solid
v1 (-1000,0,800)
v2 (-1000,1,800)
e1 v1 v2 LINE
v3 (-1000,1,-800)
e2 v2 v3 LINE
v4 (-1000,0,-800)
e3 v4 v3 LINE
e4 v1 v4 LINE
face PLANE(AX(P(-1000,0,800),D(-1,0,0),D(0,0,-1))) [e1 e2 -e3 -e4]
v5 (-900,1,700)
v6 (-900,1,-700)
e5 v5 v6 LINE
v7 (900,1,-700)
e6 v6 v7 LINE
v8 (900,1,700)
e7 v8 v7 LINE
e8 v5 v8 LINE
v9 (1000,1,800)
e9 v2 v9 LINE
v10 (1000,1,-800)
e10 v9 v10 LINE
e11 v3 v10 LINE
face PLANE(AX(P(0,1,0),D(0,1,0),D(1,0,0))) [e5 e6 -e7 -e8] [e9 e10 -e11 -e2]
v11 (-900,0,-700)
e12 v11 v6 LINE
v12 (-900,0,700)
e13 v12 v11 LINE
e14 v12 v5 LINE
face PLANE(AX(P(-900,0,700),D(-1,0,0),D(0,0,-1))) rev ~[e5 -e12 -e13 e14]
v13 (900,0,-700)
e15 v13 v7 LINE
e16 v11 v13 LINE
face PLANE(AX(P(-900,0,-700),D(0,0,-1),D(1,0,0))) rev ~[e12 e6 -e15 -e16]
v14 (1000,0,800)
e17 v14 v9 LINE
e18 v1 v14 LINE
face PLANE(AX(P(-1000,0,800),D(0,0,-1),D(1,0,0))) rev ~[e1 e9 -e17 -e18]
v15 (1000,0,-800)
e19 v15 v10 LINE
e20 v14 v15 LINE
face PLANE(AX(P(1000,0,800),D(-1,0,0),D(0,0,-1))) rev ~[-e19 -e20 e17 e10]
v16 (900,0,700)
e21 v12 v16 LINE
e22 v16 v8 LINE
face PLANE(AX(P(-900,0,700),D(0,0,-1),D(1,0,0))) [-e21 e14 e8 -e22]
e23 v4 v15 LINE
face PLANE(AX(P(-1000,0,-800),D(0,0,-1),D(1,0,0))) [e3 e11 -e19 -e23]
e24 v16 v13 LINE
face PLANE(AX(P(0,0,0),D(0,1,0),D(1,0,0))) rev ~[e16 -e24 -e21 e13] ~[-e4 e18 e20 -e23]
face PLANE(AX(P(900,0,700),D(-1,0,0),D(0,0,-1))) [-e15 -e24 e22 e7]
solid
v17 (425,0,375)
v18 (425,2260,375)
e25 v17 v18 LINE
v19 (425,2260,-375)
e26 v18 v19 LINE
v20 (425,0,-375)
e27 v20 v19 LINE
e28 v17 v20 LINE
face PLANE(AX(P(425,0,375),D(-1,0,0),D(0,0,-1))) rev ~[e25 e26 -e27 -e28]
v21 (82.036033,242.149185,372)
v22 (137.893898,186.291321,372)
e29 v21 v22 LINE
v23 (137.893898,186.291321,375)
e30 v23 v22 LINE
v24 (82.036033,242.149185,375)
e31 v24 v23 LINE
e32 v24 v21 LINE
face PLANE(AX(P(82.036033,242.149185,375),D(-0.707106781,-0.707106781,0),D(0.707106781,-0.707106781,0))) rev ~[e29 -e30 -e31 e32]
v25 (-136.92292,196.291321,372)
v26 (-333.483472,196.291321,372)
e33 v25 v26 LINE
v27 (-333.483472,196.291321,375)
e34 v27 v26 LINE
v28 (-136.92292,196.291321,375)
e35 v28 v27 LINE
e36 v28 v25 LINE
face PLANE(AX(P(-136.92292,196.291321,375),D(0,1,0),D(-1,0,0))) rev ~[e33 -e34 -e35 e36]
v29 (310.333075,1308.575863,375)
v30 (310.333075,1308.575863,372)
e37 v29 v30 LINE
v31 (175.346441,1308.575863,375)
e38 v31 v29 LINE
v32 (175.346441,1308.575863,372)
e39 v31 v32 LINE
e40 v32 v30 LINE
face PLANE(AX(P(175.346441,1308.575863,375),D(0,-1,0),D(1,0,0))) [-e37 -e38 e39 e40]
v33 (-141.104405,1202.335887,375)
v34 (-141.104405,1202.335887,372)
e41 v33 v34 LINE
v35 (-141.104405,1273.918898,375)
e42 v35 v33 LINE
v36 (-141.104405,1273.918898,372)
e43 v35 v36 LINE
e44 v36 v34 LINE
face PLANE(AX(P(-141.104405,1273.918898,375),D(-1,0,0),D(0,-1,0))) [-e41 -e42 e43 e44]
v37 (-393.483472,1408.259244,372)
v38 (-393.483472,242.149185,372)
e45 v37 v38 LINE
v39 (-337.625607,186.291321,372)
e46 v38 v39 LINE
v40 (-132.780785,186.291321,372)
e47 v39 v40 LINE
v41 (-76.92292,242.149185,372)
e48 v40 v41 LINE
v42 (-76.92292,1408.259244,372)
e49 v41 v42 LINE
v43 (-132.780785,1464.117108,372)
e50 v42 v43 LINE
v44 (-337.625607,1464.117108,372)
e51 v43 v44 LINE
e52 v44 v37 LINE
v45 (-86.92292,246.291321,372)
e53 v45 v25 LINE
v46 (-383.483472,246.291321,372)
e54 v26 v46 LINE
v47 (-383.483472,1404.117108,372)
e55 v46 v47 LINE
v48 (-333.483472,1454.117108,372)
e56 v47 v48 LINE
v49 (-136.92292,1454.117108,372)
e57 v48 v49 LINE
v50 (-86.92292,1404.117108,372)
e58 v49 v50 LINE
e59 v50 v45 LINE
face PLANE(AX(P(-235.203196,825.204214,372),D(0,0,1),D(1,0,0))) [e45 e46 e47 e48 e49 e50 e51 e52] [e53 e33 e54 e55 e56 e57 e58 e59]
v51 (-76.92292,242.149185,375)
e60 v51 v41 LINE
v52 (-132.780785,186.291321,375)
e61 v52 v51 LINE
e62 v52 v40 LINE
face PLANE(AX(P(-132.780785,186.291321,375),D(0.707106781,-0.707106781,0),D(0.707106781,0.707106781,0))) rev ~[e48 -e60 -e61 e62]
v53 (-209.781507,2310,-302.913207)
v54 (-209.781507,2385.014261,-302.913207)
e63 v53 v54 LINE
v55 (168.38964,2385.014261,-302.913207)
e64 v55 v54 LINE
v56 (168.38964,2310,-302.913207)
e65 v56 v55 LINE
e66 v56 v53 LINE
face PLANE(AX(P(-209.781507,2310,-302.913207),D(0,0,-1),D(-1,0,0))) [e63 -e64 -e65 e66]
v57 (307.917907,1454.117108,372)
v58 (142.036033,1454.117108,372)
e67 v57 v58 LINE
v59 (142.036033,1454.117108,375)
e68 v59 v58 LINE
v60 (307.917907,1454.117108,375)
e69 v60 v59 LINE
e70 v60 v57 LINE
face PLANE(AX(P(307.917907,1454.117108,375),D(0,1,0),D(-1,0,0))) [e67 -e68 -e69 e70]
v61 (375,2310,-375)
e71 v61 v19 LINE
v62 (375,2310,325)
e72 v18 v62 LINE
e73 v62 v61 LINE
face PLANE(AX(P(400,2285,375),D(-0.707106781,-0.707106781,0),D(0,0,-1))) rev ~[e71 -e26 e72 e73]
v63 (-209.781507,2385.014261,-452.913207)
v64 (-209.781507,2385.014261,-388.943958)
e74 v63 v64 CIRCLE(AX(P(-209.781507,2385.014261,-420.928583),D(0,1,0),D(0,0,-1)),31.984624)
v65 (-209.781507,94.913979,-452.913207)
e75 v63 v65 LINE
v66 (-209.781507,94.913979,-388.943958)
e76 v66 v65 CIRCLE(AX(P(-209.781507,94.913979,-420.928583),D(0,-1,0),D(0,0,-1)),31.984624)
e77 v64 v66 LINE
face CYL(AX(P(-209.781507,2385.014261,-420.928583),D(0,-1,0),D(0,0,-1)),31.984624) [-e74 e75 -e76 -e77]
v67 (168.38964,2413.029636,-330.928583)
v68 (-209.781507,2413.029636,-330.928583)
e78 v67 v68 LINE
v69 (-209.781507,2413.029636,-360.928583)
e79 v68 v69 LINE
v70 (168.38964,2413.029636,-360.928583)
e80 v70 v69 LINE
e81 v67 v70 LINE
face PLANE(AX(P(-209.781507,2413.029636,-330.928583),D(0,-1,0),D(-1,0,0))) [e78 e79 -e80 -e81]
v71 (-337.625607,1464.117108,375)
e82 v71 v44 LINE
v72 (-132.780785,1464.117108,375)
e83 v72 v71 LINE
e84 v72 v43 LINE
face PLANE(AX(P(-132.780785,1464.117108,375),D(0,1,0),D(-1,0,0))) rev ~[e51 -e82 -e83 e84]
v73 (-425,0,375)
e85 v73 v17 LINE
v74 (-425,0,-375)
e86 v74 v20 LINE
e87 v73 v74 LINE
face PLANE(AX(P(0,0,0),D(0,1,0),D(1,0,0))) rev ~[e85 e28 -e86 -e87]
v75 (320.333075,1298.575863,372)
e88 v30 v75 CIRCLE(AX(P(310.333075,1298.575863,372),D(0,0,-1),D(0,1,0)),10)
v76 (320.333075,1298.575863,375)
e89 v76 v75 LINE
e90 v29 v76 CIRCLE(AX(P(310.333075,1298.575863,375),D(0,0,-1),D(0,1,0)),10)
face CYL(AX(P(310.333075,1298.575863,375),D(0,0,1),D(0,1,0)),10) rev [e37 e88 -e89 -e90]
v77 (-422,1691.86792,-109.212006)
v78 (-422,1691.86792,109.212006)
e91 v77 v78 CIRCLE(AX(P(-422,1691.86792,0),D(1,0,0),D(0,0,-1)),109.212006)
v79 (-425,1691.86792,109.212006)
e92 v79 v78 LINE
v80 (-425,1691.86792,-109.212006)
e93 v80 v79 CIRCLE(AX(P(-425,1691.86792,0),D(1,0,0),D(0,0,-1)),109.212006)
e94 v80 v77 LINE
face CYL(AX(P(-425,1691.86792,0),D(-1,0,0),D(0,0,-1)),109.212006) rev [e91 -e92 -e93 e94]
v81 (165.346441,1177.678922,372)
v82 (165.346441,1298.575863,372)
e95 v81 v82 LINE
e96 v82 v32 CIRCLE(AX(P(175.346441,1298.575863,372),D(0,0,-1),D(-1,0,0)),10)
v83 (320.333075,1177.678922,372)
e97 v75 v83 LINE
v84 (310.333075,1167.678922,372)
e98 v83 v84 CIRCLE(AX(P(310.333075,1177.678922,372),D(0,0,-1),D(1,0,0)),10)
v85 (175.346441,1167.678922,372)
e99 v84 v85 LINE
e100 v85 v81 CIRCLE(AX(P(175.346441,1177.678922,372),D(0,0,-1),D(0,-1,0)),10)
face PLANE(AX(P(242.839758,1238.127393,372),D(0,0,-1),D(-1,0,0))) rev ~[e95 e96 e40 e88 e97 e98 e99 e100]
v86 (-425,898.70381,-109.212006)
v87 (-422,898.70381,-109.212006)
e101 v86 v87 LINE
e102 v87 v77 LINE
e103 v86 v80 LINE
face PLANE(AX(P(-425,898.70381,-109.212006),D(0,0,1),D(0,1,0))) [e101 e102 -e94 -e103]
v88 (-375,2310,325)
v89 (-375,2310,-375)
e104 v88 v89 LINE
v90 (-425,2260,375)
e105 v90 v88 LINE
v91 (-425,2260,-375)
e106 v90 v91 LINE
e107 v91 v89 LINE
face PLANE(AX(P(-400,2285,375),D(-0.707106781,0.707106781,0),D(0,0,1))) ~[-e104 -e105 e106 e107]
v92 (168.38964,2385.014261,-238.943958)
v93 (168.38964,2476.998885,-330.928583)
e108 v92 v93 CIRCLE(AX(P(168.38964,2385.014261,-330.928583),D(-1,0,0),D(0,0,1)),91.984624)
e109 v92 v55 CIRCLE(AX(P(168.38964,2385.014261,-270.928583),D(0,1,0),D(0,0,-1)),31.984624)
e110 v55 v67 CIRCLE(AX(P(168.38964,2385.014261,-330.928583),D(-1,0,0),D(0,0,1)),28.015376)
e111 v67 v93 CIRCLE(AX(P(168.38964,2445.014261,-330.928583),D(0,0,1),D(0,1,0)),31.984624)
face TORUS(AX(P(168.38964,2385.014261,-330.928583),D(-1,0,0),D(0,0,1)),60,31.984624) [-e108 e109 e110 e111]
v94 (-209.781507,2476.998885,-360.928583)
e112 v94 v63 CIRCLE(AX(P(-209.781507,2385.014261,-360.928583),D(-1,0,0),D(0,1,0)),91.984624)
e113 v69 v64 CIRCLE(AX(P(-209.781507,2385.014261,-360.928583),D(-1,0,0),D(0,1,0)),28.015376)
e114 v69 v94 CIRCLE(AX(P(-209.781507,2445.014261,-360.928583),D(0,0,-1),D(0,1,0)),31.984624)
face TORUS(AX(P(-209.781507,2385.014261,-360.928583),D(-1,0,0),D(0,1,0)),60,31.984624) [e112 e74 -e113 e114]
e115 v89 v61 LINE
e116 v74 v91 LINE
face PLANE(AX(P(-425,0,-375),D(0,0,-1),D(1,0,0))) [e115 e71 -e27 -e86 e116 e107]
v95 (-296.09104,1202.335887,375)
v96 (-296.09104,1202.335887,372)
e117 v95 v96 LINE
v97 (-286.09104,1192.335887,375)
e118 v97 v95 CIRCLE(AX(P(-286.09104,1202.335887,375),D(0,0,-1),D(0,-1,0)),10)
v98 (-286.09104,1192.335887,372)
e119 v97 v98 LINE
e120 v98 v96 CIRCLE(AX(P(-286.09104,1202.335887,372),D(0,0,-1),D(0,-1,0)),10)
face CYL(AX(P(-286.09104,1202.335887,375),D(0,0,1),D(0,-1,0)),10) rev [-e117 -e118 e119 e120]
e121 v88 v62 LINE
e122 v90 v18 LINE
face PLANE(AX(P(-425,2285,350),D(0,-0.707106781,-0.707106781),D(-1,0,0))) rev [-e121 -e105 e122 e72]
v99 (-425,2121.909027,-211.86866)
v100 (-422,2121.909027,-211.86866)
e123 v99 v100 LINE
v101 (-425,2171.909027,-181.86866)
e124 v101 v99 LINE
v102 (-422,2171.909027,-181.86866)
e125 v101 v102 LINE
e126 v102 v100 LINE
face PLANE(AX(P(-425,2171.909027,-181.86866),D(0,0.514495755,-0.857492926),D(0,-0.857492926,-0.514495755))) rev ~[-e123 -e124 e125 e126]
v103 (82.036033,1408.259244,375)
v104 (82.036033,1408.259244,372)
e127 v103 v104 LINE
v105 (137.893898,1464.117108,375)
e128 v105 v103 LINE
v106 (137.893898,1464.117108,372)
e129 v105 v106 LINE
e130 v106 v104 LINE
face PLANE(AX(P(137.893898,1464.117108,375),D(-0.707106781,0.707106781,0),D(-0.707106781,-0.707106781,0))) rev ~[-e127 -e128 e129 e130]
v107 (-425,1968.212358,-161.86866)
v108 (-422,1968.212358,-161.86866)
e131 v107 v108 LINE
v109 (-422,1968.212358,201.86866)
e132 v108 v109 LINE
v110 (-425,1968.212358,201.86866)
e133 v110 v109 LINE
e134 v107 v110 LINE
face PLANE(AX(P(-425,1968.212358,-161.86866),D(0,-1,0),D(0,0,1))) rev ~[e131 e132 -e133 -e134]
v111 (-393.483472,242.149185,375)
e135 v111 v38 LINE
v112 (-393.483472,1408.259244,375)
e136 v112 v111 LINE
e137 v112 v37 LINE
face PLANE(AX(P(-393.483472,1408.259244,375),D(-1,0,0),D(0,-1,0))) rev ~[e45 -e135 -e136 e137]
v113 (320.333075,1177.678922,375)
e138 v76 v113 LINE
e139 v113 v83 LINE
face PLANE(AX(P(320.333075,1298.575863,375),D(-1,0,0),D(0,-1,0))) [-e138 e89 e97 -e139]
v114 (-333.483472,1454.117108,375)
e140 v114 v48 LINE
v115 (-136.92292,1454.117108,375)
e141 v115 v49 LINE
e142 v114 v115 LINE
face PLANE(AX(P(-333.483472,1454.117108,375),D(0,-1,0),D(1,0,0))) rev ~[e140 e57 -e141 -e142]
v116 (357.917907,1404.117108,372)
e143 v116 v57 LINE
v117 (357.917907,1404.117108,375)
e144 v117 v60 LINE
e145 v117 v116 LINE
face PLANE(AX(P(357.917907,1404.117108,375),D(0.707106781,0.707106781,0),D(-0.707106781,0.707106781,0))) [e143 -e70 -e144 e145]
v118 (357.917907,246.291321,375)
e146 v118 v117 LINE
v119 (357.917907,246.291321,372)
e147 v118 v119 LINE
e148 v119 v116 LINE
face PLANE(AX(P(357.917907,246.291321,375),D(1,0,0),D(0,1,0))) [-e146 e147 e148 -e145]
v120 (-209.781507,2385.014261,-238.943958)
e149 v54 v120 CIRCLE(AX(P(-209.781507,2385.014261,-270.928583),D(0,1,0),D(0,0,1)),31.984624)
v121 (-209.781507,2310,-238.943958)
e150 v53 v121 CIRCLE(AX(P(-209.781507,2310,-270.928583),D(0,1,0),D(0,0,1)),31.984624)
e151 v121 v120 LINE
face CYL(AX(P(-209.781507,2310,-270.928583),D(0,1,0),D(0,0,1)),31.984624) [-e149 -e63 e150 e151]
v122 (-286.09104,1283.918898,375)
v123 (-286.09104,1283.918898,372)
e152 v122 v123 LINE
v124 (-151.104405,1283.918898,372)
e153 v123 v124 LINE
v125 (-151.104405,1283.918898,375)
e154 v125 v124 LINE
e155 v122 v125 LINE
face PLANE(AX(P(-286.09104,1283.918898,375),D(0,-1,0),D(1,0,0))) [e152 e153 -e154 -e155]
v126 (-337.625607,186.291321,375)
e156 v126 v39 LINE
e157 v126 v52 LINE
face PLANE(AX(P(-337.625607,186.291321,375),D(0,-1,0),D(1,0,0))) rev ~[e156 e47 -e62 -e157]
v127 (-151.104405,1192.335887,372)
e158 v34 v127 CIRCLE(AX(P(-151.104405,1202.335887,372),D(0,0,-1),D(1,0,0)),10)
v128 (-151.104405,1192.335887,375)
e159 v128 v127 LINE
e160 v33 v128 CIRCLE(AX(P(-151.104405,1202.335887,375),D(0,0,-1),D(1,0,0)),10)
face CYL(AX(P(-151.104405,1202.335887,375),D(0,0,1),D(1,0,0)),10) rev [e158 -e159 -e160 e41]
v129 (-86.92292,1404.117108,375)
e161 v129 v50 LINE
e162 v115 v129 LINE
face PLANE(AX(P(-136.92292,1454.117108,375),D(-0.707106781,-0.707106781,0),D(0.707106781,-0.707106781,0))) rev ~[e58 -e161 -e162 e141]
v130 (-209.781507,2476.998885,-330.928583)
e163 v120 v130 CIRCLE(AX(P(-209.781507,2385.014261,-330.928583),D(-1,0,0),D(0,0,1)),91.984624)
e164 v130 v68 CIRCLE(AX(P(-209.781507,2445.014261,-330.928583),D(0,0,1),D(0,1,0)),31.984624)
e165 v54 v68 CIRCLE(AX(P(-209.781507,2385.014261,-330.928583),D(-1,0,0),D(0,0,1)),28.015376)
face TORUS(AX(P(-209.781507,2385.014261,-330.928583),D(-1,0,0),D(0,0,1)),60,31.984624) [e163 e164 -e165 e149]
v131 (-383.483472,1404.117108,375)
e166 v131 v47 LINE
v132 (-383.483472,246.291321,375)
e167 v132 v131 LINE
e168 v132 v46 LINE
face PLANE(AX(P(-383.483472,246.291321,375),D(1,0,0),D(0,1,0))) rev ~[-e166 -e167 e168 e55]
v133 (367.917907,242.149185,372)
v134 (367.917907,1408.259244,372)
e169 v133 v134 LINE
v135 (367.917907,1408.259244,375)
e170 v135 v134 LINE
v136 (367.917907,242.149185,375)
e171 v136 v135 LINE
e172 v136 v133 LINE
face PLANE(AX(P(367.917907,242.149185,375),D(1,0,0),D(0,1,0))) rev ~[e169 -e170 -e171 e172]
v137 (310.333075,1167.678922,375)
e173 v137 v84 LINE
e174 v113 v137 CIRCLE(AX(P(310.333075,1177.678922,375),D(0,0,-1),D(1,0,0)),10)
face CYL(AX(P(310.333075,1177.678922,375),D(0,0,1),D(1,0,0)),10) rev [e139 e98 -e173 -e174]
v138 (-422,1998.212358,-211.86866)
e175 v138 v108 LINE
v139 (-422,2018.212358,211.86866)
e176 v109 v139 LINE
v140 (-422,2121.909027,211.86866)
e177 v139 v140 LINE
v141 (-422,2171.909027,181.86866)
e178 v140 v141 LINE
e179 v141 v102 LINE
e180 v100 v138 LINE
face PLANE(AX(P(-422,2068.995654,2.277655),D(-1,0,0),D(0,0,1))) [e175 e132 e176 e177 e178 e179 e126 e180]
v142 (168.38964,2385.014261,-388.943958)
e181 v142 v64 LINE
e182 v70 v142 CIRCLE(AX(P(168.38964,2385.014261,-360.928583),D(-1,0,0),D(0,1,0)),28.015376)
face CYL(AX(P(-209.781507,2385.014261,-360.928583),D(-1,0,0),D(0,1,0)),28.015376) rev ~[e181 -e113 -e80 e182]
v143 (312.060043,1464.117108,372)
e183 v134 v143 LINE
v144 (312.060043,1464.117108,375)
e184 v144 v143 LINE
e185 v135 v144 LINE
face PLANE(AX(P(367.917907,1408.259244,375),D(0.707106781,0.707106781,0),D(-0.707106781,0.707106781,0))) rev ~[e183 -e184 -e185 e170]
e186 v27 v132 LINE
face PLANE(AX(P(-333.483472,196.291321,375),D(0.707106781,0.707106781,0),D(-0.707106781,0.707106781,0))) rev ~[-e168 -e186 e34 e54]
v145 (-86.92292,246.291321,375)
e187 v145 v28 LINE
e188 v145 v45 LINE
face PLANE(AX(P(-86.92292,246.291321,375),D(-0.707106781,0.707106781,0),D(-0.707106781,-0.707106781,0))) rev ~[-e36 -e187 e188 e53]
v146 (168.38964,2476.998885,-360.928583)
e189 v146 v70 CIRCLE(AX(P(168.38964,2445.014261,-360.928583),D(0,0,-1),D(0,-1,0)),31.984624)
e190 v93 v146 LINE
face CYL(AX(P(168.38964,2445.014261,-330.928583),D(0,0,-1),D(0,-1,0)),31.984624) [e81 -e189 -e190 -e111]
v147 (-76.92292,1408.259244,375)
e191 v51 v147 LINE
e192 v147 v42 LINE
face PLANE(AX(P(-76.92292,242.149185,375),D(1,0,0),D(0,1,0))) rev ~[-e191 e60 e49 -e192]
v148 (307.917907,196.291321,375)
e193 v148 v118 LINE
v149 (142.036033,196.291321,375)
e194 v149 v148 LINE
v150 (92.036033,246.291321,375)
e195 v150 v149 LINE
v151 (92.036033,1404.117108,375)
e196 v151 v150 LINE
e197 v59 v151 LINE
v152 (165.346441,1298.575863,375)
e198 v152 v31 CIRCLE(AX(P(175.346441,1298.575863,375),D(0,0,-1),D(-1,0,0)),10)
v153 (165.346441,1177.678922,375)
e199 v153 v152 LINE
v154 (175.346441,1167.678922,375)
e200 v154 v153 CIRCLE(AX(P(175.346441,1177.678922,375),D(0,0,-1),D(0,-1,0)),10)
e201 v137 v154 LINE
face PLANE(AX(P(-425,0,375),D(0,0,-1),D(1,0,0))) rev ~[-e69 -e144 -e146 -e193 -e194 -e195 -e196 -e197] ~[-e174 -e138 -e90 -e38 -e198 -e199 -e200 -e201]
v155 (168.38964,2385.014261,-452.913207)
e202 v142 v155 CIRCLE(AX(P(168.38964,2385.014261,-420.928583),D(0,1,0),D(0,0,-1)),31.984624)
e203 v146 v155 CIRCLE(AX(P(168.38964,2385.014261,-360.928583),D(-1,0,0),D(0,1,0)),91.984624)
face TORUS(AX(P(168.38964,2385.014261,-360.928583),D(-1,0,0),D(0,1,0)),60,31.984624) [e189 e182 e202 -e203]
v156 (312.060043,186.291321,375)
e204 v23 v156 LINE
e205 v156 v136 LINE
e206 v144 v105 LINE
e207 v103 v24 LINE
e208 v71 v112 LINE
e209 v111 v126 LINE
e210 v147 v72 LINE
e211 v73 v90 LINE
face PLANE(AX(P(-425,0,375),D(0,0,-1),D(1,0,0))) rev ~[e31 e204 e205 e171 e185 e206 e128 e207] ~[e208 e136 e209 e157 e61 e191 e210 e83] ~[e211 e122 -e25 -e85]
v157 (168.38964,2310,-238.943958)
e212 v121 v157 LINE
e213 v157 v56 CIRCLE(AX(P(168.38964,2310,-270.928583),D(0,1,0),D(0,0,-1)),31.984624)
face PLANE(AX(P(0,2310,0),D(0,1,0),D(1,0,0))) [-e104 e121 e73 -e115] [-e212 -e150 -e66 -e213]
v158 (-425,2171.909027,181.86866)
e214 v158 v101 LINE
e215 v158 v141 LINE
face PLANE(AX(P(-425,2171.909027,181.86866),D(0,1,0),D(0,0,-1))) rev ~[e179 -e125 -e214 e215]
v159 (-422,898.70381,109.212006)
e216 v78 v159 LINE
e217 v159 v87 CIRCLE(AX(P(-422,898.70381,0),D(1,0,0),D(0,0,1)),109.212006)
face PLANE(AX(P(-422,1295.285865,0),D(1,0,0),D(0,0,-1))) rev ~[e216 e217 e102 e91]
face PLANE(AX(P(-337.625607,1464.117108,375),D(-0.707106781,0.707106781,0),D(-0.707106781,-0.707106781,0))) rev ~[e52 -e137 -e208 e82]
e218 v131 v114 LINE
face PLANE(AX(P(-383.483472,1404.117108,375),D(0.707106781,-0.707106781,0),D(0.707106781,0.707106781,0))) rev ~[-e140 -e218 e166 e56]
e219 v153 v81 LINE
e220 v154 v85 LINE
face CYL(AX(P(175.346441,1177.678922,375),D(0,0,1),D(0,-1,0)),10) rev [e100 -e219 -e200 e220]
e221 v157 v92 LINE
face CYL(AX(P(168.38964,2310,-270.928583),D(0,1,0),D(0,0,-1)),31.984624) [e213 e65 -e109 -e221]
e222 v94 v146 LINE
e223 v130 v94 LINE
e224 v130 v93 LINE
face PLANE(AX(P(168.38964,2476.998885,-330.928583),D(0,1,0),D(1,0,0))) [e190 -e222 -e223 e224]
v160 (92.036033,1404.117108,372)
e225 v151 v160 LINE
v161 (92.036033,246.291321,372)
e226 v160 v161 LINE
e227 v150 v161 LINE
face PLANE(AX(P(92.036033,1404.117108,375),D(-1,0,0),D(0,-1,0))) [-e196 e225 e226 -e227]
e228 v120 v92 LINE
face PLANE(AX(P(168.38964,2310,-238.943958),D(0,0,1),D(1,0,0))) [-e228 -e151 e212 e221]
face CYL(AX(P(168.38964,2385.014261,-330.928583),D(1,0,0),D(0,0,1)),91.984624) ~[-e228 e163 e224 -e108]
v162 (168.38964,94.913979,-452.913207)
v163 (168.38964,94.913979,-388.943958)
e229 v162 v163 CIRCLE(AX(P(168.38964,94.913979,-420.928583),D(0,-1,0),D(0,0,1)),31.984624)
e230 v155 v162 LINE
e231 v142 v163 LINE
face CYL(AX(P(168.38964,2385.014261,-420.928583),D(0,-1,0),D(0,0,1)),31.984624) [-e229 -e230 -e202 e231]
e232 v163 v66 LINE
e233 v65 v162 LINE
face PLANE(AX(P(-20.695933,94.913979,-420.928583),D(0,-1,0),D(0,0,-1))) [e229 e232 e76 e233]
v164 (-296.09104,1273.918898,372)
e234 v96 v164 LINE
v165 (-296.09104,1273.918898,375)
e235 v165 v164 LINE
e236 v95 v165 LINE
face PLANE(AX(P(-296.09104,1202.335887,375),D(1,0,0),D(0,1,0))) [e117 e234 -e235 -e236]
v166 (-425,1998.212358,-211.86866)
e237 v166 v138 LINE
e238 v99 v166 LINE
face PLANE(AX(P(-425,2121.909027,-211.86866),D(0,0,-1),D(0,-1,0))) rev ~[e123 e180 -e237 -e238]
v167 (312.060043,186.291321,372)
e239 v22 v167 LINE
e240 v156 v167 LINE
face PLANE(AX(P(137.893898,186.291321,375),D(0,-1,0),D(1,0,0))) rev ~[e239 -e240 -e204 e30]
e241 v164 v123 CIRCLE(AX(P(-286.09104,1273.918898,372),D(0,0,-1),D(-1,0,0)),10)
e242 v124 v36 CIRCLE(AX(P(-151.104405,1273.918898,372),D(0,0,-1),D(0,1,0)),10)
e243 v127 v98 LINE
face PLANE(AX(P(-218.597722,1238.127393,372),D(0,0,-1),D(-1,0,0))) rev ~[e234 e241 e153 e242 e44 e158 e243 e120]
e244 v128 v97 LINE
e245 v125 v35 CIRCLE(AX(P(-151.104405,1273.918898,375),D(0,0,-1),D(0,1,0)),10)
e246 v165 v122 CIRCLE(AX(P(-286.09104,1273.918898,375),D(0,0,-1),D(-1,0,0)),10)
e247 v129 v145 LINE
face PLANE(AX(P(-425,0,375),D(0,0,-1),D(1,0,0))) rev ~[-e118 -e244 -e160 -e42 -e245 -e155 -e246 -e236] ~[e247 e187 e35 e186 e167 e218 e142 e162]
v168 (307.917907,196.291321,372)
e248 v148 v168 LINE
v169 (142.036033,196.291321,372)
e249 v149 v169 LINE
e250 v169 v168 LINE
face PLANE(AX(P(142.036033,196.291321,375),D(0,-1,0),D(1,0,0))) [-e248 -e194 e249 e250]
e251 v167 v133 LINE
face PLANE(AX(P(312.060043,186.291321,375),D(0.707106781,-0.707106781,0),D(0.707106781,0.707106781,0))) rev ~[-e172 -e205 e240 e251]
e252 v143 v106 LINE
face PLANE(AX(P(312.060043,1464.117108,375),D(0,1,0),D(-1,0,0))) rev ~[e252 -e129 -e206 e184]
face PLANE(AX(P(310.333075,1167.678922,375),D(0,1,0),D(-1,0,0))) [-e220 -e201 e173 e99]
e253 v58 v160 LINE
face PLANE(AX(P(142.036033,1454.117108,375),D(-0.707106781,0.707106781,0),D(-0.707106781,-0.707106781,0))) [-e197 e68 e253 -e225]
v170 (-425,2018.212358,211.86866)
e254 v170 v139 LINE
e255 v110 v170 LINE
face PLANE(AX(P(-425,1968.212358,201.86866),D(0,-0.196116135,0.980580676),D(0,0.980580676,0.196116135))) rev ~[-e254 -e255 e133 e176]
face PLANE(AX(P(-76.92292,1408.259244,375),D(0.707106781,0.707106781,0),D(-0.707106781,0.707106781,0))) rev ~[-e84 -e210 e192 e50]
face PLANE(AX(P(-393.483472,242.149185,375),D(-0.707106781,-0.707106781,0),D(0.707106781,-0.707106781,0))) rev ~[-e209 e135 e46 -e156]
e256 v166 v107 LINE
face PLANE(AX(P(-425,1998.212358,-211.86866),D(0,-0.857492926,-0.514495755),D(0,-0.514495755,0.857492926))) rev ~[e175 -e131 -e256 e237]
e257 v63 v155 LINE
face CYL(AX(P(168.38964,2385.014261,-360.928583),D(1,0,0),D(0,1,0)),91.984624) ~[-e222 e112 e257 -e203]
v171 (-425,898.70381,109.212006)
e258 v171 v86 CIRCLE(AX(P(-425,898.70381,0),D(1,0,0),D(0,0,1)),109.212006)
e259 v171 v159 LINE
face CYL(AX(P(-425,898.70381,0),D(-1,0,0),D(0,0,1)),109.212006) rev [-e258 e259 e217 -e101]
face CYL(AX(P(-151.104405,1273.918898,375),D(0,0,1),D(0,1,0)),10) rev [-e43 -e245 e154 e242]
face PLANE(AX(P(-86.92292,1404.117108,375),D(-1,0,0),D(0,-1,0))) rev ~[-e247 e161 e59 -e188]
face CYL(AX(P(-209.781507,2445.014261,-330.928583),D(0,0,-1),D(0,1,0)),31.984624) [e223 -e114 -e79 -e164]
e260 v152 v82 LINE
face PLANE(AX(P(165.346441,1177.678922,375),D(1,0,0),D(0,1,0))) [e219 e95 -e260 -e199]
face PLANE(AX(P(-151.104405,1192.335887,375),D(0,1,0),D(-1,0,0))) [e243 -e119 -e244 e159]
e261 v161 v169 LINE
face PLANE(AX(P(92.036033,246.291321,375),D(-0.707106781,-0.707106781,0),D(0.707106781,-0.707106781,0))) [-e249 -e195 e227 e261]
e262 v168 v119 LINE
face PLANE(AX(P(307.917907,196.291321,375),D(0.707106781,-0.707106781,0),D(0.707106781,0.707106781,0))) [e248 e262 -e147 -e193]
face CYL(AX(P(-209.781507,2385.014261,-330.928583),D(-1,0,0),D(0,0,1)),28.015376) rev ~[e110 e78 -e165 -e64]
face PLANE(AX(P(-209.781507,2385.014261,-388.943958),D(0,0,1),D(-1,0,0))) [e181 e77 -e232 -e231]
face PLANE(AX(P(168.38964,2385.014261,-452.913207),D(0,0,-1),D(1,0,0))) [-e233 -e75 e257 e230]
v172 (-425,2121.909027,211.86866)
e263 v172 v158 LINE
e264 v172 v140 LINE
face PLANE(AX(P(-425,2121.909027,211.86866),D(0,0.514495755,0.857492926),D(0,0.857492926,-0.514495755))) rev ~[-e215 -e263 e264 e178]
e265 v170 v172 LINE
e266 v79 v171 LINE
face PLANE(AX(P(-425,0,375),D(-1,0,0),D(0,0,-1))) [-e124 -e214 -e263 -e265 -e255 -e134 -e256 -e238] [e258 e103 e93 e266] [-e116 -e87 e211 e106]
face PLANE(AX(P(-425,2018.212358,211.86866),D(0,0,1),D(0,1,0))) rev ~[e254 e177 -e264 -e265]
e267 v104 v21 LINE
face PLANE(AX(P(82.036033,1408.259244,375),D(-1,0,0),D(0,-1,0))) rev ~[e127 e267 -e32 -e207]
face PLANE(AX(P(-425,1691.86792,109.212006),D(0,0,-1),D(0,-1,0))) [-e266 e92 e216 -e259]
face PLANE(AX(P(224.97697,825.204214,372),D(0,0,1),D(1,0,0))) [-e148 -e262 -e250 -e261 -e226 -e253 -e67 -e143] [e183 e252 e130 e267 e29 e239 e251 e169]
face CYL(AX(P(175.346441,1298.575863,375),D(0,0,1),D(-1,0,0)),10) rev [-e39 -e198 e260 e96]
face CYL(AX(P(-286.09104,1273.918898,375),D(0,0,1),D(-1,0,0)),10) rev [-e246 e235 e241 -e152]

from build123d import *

# Parameters (mm, degrees)
CROQUIS1_W              = 850
CROQUIS1_H              = 750
SALIENTE_EXTRUIR1_DEPTH = 2310
CORTAR_EXTRUIR1_DEPTH   = 3
CORTAR_EXTRUIR2_DEPTH   = 3
CORTAR_EXTRUIR3_DEPTH   = 3
CORTAR_EXTRUIR4_DEPTH   = 3
CHAFL_N1_SIZE           = 50
CROQUIS7_W              = 2000
CROQUIS7_H              = 1600
CROQUIS7_W_2            = 1800
CROQUIS7_H_2            = 1400
SALIENTE_EXTRUIR2_DEPTH = 1


with BuildPart() as part:
    # Croquis1 → Saliente-Extruir1 (new body)
    with BuildSketch(Plane(origin=(0, 0, 0), x_dir=(1, 0, 0), z_dir=(0, 1, 0))):
        Rectangle(CROQUIS1_W, CROQUIS1_H)
    extrude(amount=SALIENTE_EXTRUIR1_DEPTH)

    # Croquis2 → Cortar-Extruir1 (cut)
    # profile 1 of 2: a face of its own
    with BuildSketch(Plane.XY.offset(375)):
        Polygon((-393.483471659, 1408.259243518), (-393.483471659, 242.149185229), (-337.625607283, 186.291320853), (-132.780784619, 186.291320853), (-76.922920243, 242.149185229), (-76.922920243, 1408.259243518), (-132.780784619, 1464.117107894), (-337.625607283, 1464.117107894), align=None)
        Polygon((-383.483471659, 1404.117107894), (-333.483471659, 1454.117107894), (-136.922920243, 1454.117107894), (-86.922920243, 1404.117107894), (-86.922920243, 246.291320853), (-136.922920243, 196.291320853), (-333.483471659, 196.291320853), (-383.483471659, 246.291320853), align=None, mode=Mode.SUBTRACT)
    # profile 2 of 2: a face of its own
    with BuildSketch(Plane.XY.offset(375)):
        Polygon((82.036033198, 1408.259243518), (82.036033198, 242.149185229), (137.893897574, 186.291320853), (312.060042505, 186.291320853), (367.917906882, 242.149185229), (367.917906882, 1408.259243518), (312.060042505, 1464.117107894), (137.893897574, 1464.117107894), align=None)
        Polygon((307.917906882, 1454.117107894), (142.036033198, 1454.117107894), (92.036033198, 1404.117107894), (92.036033198, 246.291320853), (142.036033198, 196.291320853), (307.917906882, 196.291320853), (357.917906882, 246.291320853), (357.917906882, 1404.117107894), align=None, mode=Mode.SUBTRACT)
    extrude(amount=-CORTAR_EXTRUIR1_DEPTH, mode=Mode.SUBTRACT)

    # Croquis3 → Cortar-Extruir2 (cut)
    with BuildSketch(Plane.XY.offset(375)):
        with BuildLine():
            Line((-286.091039819, 1283.918898277), (-151.104405159, 1283.918898277))
            ThreePointArc((-151.104405159, 1283.918898277), (-144.033337347, 1280.989966089), (-141.104405159, 1273.918898277))
            Line((-141.104405159, 1273.918898277), (-141.104405159, 1202.335886887))
            ThreePointArc((-141.104405159, 1202.335886887), (-144.033337347, 1195.264819075), (-151.104405159, 1192.335886887))
            Line((-151.104405159, 1192.335886887), (-286.091039819, 1192.335886887))
            ThreePointArc((-286.091039819, 1192.335886887), (-293.162107631, 1195.264819075), (-296.091039819, 1202.335886887))
            Line((-296.091039819, 1202.335886887), (-296.091039819, 1273.918898277))
            ThreePointArc((-296.091039819, 1273.918898277), (-293.162107631, 1280.989966089), (-286.091039819, 1283.918898277))
        make_face()
        with BuildLine():
            Line((175.346440647, 1308.575862882), (310.333075308, 1308.575862882))
            ThreePointArc((310.333075308, 1308.575862882), (317.40414312, 1305.646930694), (320.333075308, 1298.575862882))
            Line((320.333075308, 1298.575862882), (320.333075308, 1177.678922282))
            ThreePointArc((320.333075308, 1177.678922282), (317.40414312, 1170.60785447), (310.333075308, 1167.678922282))
            Line((310.333075308, 1167.678922282), (175.346440647, 1167.678922282))
            ThreePointArc((175.346440647, 1167.678922282), (168.275372835, 1170.60785447), (165.346440647, 1177.678922282))
            Line((165.346440647, 1177.678922282), (165.346440647, 1298.575862882))
            ThreePointArc((165.346440647, 1298.575862882), (168.275372835, 1305.646930694), (175.346440647, 1308.575862882))
        make_face()
    extrude(amount=-CORTAR_EXTRUIR2_DEPTH, mode=Mode.SUBTRACT)

    # Croquis4 → Cortar-Extruir3 (cut)
    with BuildSketch(Plane.ZY.offset(425)):
        with BuildLine():
            Line((109.212006175, 1691.86792005), (109.212006175, 898.703809809))
            ThreePointArc((109.212006175, 898.703809809), (0, 789.491803634), (-109.212006175, 898.703809809))
            Line((-109.212006175, 898.703809809), (-109.212006175, 1691.86792005))
            ThreePointArc((-109.212006175, 1691.86792005), (0, 1801.079926225), (109.212006175, 1691.86792005))
        make_face()
    extrude(amount=-CORTAR_EXTRUIR3_DEPTH, mode=Mode.SUBTRACT)

    # Croquis5 → Cortar-Extruir4 (cut)
    with BuildSketch(Plane.ZY.offset(425)):
        Polygon((201.868660443, 1968.212358458), (211.868660443, 2018.212358458), (211.868660443, 2121.90902677), (181.868660443, 2171.90902677), (-181.868660443, 2171.90902677), (-211.868660443, 2121.90902677), (-211.868660443, 1998.212358458), (-161.868660443, 1968.212358458), align=None)
    extrude(amount=-CORTAR_EXTRUIR4_DEPTH, mode=Mode.SUBTRACT)

    # Barrer1: sweep along a curve in space
    with BuildLine() as barrer1_path:
        Line((-20.695933391, 2310, -270.928582575), (-20.695933391, 2385.014260788, -270.928582575))
        ThreePointArc((-20.695933391, 2385.014260788, -270.928582575), (-20.695933391, 2427.440667659, -288.502175703), (-20.695933391, 2445.014260788, -330.928582575))
        Line((-20.695933391, 2445.014260788, -330.928582575), (-20.695933391, 2445.014260788, -360.928582575))
        ThreePointArc((-20.695933391, 2445.014260788, -360.928582575), (-20.695933391, 2427.440667659, -403.354989446), (-20.695933391, 2385.014260788, -420.928582575))
        Line((-20.695933391, 2385.014260788, -420.928582575), (-20.695933391, 94.913979235, -420.928582575))
    # Croquis6 → Barrer1 (sweep)
    with BuildSketch(Plane(origin=(0, 2310, 0), x_dir=(1, 0, 0), z_dir=(0, 1, 0))):
        with BuildLine():
            Line((168.389639864, 238.943958243), (-209.781506646, 238.943958243))
            ThreePointArc((-209.781506646, 238.943958243), (-241.766130978, 270.928582575), (-209.781506646, 302.913206906))
            Line((-209.781506646, 302.913206906), (168.389639864, 302.913206906))
            ThreePointArc((168.389639864, 302.913206906), (200.374264196, 270.928582575), (168.389639864, 238.943958243))
        make_face()
    sweep(path=barrer1_path.line)

    # Chaflán1
    chafl_n1_edges = [part.edges().sort_by_distance(p)[0] for p in [
        (-425, 2310, 0),
        (0, 2310, 375),
        (425, 2310, 0),
    ]]
    chamfer(chafl_n1_edges, length=CHAFL_N1_SIZE)


with BuildPart() as body_2:
    # Croquis7 → Saliente-Extruir2 (new body)
    with BuildSketch(Plane(origin=(0, 0, 0), x_dir=(1, 0, 0), z_dir=(0, 1, 0))):
        Rectangle(CROQUIS7_W, CROQUIS7_H)
        Rectangle(CROQUIS7_W_2, CROQUIS7_H_2, mode=Mode.SUBTRACT)
    extrude(amount=SALIENTE_EXTRUIR2_DEPTH)


solid = Compound([part.part, body_2.part])
